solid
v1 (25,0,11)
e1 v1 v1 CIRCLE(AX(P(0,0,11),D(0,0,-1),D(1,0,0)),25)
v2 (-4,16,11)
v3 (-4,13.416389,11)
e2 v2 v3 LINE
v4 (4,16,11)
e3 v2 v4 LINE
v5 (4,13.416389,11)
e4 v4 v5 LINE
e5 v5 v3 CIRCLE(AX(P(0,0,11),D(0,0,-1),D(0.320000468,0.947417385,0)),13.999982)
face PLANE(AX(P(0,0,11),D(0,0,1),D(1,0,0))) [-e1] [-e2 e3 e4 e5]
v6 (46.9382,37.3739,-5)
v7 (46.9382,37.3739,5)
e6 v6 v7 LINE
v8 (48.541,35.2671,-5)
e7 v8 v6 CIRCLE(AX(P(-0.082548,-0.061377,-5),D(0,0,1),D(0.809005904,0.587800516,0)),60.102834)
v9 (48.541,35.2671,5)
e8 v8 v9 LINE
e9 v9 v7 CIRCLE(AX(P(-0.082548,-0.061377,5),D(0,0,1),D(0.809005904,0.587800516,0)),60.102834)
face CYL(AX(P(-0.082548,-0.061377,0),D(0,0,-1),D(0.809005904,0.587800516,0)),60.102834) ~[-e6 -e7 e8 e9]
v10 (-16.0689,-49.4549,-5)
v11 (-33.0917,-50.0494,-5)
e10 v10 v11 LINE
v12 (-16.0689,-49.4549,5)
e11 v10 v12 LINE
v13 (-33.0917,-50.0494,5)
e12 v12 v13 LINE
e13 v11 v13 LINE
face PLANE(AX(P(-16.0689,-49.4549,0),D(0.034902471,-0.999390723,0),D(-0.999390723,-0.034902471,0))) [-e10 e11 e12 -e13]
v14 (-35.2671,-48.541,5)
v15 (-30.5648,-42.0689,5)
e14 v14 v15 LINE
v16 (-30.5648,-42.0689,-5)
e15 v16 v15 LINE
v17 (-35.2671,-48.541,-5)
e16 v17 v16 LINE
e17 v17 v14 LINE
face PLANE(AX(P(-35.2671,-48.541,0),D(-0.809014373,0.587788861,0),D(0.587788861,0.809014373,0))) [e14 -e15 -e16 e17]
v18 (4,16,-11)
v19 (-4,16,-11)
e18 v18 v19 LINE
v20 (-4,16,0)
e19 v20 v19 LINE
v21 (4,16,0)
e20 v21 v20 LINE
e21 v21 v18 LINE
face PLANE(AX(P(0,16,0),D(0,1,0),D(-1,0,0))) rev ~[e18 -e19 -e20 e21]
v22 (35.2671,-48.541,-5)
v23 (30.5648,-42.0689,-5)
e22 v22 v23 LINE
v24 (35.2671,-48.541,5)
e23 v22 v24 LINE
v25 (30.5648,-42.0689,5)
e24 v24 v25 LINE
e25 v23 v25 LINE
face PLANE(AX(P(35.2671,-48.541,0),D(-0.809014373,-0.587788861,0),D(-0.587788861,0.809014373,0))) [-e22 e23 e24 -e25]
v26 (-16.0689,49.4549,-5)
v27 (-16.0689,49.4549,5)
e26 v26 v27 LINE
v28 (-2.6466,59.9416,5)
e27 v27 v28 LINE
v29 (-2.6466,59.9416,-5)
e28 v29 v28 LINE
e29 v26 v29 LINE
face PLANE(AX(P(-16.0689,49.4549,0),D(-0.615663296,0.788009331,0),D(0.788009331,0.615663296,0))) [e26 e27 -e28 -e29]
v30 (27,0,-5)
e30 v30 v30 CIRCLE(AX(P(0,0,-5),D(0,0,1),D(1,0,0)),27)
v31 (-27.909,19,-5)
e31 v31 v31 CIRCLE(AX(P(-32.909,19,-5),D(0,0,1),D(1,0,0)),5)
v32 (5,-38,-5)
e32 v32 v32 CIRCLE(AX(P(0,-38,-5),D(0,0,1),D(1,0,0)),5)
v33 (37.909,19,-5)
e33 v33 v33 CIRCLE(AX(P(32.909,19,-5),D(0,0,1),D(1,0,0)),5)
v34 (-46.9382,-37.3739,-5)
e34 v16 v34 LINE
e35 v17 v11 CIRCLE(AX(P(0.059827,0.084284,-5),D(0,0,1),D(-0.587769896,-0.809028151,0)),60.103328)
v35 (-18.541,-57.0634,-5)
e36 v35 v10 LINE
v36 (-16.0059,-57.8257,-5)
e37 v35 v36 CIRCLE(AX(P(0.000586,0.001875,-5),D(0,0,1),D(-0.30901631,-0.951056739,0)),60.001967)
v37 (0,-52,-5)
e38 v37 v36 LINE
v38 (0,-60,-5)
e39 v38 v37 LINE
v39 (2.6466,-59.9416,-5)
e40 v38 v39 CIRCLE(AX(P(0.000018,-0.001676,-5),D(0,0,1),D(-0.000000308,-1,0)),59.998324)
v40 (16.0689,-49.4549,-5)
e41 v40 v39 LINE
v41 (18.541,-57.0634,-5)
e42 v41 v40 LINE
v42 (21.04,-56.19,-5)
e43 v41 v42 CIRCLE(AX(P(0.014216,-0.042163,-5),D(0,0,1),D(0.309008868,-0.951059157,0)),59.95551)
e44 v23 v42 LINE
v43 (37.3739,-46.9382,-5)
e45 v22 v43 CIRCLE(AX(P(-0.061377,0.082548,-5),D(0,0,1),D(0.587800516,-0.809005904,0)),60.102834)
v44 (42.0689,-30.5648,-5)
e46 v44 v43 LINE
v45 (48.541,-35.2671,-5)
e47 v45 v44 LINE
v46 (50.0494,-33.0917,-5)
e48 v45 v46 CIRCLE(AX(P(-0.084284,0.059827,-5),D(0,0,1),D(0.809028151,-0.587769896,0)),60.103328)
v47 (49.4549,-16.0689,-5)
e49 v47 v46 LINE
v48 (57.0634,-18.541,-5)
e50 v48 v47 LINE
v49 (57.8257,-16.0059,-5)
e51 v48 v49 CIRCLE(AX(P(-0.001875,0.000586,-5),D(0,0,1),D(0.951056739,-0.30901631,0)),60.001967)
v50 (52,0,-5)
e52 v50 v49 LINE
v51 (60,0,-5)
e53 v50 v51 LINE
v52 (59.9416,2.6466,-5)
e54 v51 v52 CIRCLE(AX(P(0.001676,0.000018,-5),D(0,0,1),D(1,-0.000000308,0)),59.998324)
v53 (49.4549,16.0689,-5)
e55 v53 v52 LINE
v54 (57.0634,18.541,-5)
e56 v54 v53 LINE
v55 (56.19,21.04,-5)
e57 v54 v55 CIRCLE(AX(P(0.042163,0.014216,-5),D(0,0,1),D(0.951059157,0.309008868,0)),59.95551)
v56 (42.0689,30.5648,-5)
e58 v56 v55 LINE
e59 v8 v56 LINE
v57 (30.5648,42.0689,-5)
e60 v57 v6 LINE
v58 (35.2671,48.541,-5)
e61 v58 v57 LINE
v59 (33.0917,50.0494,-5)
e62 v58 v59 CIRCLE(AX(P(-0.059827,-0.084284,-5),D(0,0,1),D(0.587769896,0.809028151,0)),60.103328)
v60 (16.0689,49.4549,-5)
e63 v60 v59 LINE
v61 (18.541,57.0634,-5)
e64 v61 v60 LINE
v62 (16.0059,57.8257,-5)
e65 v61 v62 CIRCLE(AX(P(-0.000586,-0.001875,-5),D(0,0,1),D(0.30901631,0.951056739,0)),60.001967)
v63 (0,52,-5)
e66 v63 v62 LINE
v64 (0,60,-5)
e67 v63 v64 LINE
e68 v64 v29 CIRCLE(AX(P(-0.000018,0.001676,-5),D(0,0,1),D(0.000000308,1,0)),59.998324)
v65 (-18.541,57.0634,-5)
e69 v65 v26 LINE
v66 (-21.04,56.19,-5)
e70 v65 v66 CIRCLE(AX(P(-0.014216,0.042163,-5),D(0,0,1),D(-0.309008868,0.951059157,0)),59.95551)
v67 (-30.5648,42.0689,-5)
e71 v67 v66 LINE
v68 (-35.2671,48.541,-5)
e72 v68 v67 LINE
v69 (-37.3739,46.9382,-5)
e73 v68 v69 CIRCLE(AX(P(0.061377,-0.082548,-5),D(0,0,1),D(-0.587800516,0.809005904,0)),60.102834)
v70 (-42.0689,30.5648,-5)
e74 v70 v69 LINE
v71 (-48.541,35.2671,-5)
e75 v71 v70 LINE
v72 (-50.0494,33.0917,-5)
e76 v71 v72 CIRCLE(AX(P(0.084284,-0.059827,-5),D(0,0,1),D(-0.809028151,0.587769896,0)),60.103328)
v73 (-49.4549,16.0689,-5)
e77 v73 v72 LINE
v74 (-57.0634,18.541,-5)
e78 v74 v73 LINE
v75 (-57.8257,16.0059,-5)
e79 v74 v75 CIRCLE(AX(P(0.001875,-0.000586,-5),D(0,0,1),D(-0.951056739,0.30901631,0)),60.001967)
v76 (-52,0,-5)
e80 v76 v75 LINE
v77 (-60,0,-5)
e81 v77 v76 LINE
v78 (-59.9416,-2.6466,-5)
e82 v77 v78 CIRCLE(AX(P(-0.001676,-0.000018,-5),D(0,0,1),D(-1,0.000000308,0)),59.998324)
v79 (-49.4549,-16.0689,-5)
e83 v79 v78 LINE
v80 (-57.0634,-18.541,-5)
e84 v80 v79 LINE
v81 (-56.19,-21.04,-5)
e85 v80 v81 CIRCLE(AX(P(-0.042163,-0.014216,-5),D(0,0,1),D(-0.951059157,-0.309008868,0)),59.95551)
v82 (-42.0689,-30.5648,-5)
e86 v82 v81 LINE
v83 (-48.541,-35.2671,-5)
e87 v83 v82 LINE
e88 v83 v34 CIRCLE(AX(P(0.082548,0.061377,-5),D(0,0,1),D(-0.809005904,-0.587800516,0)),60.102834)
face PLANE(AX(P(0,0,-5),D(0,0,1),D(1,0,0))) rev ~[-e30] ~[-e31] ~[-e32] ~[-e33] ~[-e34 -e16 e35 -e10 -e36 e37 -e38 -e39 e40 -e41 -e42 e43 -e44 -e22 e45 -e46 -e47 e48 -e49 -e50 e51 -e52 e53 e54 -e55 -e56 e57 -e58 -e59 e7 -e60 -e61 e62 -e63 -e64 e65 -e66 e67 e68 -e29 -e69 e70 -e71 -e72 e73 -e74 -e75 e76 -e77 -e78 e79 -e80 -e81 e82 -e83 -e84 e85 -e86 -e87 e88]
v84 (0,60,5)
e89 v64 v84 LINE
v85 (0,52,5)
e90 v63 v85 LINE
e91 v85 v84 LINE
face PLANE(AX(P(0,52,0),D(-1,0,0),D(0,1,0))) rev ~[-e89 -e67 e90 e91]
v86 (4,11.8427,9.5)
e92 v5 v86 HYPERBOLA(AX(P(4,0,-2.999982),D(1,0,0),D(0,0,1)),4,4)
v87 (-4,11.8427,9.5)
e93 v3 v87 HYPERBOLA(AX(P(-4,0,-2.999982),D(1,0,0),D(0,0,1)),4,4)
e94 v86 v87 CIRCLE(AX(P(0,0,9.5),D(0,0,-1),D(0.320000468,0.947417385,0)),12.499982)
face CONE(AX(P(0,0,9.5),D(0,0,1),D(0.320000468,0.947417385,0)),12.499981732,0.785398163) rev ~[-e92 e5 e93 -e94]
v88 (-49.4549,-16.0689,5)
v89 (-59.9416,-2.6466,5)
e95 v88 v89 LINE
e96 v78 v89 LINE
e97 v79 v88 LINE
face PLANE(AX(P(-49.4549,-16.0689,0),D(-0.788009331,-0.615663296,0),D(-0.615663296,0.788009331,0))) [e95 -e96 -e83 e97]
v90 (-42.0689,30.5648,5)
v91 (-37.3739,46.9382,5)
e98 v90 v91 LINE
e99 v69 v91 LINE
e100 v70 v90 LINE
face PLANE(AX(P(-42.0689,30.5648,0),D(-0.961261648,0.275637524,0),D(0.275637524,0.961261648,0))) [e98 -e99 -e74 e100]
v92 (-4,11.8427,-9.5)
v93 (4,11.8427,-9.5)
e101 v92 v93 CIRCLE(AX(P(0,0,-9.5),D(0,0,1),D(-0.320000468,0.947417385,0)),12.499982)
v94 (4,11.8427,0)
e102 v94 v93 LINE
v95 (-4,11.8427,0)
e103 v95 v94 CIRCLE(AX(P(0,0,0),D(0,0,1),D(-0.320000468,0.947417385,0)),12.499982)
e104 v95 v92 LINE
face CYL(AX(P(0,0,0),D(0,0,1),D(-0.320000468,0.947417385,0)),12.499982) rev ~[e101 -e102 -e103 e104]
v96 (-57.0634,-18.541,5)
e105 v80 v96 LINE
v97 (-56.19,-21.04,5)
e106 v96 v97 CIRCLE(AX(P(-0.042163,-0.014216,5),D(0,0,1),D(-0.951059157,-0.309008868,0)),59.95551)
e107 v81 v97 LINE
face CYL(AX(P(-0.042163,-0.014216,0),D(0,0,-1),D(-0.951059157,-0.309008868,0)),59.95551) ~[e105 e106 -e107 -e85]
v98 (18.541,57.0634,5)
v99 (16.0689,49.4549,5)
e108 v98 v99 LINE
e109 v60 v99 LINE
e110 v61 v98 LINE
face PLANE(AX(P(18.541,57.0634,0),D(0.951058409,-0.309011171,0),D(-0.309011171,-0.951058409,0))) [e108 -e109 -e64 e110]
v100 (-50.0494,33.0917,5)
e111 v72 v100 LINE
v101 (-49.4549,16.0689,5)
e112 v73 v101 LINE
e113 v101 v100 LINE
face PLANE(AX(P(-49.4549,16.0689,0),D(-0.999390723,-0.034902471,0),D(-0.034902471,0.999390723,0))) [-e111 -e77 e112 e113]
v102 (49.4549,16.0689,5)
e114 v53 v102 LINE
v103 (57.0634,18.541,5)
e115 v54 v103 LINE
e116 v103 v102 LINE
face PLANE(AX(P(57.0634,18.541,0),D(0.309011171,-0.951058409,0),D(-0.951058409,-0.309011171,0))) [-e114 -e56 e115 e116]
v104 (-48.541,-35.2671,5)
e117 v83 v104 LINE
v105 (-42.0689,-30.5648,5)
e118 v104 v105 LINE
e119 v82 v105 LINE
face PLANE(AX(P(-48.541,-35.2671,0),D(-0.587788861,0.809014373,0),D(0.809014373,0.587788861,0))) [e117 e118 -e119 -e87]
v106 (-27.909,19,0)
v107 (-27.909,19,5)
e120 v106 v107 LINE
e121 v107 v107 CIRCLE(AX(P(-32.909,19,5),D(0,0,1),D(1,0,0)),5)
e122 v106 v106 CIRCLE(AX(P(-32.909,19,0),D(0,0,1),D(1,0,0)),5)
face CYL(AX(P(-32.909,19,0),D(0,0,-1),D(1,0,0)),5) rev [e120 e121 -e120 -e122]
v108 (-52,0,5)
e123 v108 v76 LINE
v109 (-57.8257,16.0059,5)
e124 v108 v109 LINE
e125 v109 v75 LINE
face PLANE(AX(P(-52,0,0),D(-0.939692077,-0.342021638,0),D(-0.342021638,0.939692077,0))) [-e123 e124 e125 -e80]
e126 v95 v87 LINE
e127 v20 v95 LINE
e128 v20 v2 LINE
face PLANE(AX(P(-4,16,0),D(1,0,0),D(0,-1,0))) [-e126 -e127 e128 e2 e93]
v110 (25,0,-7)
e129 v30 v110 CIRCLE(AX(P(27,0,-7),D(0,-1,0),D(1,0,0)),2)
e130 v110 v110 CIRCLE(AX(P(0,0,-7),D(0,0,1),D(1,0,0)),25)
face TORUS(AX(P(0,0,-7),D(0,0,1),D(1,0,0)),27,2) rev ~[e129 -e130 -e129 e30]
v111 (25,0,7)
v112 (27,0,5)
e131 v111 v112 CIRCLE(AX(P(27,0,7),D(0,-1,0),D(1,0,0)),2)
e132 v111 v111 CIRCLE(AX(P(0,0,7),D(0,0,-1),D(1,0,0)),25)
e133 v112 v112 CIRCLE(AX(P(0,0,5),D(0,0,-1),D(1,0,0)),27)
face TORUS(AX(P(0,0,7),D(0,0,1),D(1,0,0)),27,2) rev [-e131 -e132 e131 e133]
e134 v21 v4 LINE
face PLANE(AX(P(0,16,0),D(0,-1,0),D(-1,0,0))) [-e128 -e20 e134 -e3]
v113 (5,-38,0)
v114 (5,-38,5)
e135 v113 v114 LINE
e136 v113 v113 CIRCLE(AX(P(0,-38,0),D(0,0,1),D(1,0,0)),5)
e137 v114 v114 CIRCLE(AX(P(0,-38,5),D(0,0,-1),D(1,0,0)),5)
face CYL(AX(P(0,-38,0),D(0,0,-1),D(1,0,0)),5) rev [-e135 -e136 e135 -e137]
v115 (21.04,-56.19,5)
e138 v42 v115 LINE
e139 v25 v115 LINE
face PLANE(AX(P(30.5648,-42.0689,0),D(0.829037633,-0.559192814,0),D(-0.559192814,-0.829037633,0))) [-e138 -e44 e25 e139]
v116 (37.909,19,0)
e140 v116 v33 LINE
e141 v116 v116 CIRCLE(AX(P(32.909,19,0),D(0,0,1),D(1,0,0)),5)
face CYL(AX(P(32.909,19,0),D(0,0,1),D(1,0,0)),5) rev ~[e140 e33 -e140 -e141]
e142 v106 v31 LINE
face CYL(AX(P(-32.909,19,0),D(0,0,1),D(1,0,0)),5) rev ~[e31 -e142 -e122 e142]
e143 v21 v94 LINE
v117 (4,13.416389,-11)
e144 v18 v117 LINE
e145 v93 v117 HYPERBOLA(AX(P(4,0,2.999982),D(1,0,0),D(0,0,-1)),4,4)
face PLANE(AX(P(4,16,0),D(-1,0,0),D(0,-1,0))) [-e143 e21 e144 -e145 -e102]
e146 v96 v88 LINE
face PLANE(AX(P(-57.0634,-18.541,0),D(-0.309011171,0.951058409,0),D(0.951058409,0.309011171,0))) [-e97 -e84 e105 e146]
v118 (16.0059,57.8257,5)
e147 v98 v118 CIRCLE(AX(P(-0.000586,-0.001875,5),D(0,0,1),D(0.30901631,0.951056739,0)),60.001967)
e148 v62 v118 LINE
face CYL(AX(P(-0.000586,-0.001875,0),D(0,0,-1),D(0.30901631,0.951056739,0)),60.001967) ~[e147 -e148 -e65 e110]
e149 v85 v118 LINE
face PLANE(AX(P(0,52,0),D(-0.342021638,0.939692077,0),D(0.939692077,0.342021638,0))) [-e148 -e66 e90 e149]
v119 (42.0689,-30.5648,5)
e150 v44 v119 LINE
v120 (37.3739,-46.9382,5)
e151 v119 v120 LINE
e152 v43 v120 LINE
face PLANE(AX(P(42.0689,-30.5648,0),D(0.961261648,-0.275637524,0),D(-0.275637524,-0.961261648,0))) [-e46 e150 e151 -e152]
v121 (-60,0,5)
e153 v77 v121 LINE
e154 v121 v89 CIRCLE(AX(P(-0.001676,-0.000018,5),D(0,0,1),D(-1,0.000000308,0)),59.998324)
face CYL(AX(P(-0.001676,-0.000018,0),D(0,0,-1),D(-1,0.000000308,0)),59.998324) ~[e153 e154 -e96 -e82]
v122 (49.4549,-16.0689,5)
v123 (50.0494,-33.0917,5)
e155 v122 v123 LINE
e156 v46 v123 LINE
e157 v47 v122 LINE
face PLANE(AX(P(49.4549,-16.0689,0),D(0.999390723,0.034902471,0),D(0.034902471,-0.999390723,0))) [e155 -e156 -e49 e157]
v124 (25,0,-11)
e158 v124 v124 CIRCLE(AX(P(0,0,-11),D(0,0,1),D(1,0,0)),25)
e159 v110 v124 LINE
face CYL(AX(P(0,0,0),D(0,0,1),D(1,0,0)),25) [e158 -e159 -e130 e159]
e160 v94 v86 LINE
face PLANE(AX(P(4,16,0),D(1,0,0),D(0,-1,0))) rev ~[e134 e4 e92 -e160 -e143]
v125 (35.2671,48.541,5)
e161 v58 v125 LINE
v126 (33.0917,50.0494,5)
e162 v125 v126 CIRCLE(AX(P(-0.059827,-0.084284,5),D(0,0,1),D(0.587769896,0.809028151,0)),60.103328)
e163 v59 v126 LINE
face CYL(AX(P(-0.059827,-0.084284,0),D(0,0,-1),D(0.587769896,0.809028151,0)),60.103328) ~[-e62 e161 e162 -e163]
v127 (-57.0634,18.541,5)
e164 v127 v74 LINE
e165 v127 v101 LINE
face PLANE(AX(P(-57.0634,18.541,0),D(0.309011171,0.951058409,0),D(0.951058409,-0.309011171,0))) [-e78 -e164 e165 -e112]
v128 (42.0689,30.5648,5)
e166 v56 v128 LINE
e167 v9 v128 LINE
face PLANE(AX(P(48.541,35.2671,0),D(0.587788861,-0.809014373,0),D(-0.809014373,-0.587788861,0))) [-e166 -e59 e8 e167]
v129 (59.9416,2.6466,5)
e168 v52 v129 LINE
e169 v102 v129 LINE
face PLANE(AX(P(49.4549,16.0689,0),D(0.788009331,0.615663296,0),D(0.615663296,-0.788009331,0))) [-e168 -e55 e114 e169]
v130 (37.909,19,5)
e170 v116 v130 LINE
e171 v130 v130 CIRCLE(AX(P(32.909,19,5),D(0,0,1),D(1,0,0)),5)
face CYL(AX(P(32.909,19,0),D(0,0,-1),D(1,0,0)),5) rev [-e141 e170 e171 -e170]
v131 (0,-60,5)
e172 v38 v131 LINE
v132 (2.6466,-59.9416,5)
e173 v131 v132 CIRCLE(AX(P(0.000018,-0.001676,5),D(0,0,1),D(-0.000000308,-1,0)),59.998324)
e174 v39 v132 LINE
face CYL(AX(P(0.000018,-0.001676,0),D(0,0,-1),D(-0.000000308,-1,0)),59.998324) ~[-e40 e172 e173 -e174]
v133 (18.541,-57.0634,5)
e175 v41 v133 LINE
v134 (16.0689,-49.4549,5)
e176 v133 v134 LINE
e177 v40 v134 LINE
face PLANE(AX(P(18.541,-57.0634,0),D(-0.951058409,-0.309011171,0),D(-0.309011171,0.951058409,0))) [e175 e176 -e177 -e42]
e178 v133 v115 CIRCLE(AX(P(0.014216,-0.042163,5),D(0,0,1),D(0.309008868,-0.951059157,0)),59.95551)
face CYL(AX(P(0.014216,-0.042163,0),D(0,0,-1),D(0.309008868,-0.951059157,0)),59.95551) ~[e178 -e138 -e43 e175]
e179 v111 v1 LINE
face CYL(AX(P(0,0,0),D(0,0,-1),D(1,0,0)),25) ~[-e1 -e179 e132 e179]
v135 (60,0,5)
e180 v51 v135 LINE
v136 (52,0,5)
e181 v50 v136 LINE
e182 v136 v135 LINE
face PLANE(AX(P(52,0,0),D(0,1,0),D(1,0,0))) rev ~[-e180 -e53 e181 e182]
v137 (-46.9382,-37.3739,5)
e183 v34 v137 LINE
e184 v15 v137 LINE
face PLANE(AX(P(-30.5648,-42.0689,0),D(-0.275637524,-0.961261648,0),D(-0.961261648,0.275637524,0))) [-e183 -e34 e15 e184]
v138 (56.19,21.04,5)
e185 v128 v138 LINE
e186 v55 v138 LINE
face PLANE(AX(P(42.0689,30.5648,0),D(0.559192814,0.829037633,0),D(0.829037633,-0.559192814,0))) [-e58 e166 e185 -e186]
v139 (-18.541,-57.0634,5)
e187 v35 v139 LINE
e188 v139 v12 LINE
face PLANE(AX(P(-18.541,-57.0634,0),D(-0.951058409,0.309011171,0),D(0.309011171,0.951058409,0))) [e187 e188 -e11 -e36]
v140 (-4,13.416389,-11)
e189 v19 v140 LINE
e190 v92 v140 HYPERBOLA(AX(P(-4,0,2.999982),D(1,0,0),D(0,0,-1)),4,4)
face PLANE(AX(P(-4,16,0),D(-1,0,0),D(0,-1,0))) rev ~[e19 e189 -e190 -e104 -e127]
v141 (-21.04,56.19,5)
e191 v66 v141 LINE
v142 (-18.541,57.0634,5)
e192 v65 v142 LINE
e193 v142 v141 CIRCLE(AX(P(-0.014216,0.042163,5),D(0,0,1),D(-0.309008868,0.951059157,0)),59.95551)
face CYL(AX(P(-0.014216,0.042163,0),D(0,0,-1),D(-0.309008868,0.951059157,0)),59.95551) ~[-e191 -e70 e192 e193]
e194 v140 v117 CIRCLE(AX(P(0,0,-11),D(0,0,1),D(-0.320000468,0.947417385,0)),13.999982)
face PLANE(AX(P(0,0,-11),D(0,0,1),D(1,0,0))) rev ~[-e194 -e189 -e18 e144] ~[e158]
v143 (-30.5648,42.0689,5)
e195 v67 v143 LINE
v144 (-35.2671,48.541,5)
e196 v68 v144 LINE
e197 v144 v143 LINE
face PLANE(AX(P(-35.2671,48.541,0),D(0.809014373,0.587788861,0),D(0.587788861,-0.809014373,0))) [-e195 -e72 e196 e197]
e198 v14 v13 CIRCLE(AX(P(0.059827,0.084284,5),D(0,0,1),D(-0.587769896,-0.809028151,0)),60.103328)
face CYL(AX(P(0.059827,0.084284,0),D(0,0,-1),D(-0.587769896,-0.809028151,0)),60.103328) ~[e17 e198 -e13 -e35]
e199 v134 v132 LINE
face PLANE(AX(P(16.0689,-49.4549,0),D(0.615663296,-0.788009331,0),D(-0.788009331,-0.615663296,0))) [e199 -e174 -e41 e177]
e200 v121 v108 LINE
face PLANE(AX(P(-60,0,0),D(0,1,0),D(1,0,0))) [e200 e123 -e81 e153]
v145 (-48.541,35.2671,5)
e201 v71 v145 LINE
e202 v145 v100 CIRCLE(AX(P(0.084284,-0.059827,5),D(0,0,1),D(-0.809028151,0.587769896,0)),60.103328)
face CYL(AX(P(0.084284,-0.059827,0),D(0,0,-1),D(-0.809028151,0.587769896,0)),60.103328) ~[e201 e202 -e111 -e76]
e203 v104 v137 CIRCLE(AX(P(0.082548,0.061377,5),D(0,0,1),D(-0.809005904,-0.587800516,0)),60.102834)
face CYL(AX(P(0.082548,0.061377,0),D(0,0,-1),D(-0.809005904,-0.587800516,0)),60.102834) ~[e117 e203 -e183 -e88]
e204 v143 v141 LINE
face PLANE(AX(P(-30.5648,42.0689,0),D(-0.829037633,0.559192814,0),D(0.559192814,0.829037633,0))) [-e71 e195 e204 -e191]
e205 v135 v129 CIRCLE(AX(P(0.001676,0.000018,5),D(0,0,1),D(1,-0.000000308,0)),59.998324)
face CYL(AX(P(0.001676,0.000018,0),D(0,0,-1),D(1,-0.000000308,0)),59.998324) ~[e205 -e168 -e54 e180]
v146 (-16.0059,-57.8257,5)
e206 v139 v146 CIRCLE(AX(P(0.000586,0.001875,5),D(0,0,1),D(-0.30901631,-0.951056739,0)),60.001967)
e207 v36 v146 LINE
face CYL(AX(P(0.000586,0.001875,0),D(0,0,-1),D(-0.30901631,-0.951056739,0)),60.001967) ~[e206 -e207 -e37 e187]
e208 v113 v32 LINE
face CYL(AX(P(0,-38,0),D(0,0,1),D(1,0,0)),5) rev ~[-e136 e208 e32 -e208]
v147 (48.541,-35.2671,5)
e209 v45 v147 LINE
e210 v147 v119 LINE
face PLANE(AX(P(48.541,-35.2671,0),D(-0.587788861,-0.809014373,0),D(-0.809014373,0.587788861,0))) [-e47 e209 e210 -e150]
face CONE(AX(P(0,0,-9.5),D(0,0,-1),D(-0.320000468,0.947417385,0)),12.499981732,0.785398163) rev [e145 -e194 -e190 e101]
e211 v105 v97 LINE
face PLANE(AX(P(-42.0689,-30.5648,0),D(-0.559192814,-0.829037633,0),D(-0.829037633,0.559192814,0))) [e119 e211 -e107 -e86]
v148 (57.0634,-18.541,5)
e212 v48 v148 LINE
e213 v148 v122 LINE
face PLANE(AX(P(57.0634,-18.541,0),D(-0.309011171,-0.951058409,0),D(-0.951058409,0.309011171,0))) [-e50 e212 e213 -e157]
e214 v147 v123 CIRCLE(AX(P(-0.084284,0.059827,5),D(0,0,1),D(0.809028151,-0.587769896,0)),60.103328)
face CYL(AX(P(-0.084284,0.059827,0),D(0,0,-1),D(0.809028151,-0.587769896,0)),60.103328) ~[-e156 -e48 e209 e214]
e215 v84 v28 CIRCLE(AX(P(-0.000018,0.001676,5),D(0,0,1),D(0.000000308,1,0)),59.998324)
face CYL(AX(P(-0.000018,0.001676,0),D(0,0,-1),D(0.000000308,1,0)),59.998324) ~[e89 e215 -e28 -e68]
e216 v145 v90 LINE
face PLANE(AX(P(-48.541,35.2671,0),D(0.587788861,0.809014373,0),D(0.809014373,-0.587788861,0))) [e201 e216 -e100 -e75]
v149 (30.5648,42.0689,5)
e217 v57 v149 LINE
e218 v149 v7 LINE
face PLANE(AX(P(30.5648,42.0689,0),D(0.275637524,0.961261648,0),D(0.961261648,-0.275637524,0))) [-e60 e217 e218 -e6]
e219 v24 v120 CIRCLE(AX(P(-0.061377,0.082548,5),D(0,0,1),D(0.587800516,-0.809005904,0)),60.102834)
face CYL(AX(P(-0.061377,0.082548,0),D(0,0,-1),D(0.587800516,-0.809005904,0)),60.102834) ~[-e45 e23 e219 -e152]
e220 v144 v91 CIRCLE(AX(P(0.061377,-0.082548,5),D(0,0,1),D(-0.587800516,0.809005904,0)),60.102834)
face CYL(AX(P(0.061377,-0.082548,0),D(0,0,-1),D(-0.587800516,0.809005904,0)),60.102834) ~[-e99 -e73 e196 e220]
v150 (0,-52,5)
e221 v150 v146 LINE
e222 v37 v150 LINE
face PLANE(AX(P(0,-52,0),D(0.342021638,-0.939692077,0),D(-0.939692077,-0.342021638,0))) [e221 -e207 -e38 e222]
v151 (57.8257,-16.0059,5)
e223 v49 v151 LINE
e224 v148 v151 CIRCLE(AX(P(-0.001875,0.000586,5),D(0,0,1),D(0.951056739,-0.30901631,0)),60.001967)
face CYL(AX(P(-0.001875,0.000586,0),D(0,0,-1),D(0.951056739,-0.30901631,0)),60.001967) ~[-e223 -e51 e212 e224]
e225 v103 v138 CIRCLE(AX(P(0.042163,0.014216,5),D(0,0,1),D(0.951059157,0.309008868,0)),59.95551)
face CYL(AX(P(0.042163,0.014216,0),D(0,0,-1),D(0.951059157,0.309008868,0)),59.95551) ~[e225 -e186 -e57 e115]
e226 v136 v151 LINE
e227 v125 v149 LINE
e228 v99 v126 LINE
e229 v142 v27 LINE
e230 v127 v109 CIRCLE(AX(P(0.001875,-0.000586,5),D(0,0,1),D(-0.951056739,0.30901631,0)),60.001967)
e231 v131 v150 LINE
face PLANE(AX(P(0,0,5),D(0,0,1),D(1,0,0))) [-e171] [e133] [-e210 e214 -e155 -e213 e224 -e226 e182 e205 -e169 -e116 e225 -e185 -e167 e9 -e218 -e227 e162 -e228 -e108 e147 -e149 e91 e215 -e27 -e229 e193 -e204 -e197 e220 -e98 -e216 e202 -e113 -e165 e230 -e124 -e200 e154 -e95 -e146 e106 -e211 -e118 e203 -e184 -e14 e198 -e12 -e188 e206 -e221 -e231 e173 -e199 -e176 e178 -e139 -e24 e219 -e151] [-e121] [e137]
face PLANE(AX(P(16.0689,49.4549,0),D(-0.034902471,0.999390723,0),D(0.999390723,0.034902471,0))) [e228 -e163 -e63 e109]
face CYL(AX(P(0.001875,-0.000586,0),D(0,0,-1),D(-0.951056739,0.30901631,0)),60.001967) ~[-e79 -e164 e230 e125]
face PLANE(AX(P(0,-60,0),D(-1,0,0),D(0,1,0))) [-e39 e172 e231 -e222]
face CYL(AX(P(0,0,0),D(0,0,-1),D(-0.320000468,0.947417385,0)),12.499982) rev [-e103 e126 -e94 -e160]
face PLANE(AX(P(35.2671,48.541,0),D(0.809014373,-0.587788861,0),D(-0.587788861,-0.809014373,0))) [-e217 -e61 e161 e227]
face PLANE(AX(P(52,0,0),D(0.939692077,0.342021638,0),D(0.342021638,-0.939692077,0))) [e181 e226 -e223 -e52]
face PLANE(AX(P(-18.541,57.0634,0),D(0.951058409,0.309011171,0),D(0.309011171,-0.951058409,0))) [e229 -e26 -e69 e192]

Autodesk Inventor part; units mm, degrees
ref_plane "YZ Plane" through (0, 0, 0) normal (1, 0, 0) x (0, 1, 0)
ref_plane "XZ Plane" through (0, 0, 0) normal (0, 1, 0) x (-1, 0, 0)
ref_plane "XY Plane" through (0, 0, 0) normal (0, 0, 1) x (1, 0, 0)
sketch "Sketch1" plane through (0, 0, 0) normal (0, 0, 1) x (1, 0, 0)
  line L0 (-84.0204, 0) -> (84.0204, 0) projected
  line L1 (0, -84.0204) -> (0, 84.0204) projected
  arc A0 (-4, 11.8427) -> (4, 11.8427) centre (0, 0) ccw
  line L2 (0, 16) -> (4, 16)
  line L3 (4, 16) -> (4, 11.8427)
  line L4 (0, 16) -> (-4, 16)
  line L5 (-4, 16) -> (-4, 11.8427)
  circle A1 centre (0, 0) radius 25
  circle A2 centre (0, 0) radius 38 construction
  arc A3 (18.541, 57.0634) -> (16.0059, 57.8257) centre (0, 0) ccw
  circle A4 centre (32.909, 19) radius 5
  line L6 (32.909, 19) -> (0, 0) construction
  circle A5 centre (-32.909, 19) radius 5
  circle A6 centre (0, -38) radius 5
  line L7 (0, 60) -> (0, 52)
  line L8 (0, 52) -> (16.0059, 57.8257)
  line L9 (18.541, 57.0634) -> (16.0689, 49.4549)
  line L10 (-16.0689, 49.4549) -> (-2.6466, 59.9416)
  arc A7 (0, 60) -> (-2.6466, 59.9416) centre (0, 0) ccw
  line L11 (0, 60) -> (0, 52)
  line L12 (-30.5648, 42.0689) -> (-21.04, 56.19)
  arc A8 (-18.541, 57.0634) -> (-21.04, 56.19) centre (0, 0) ccw
  line L13 (-18.541, 57.0634) -> (-16.0689, 49.4549)
  line L14 (-42.0689, 30.5648) -> (-37.3739, 46.9382)
  arc A9 (-35.2671, 48.541) -> (-37.3739, 46.9382) centre (0, 0) ccw
  line L15 (-35.2671, 48.541) -> (-30.5648, 42.0689)
  line L16 (-49.4549, 16.0689) -> (-50.0494, 33.0917)
  arc A10 (-48.541, 35.2671) -> (-50.0494, 33.0917) centre (0, 0) ccw
  line L17 (-48.541, 35.2671) -> (-42.0689, 30.5648)
  line L18 (-52, 0) -> (-57.8257, 16.0059)
  arc A11 (-57.0634, 18.541) -> (-57.8257, 16.0059) centre (0, 0) ccw
  line L19 (-57.0634, 18.541) -> (-49.4549, 16.0689)
  line L20 (-49.4549, -16.0689) -> (-59.9416, -2.6466)
  arc A12 (-60, 0) -> (-59.9416, -2.6466) centre (0, 0) ccw
  line L21 (-60, 0) -> (-52, 0)
  line L22 (-42.0689, -30.5648) -> (-56.19, -21.04)
  arc A13 (-57.0634, -18.541) -> (-56.19, -21.04) centre (0, 0) ccw
  line L23 (-57.0634, -18.541) -> (-49.4549, -16.0689)
  line L24 (-30.5648, -42.0689) -> (-46.9382, -37.3739)
  arc A14 (-48.541, -35.2671) -> (-46.9382, -37.3739) centre (0, 0) ccw
  line L25 (-48.541, -35.2671) -> (-42.0689, -30.5648)
  line L26 (-16.0689, -49.4549) -> (-33.0917, -50.0494)
  arc A15 (-35.2671, -48.541) -> (-33.0917, -50.0494) centre (0, 0) ccw
  line L27 (-35.2671, -48.541) -> (-30.5648, -42.0689)
  line L28 (0, -52) -> (-16.0059, -57.8257)
  arc A16 (-18.541, -57.0634) -> (-16.0059, -57.8257) centre (0, 0) ccw
  line L29 (-18.541, -57.0634) -> (-16.0689, -49.4549)
  line L30 (16.0689, -49.4549) -> (2.6466, -59.9416)
  arc A17 (0, -60) -> (2.6466, -59.9416) centre (0, 0) ccw
  line L31 (0, -60) -> (0, -52)
  line L32 (30.5648, -42.0689) -> (21.04, -56.19)
  arc A18 (18.541, -57.0634) -> (21.04, -56.19) centre (0, 0) ccw
  line L33 (18.541, -57.0634) -> (16.0689, -49.4549)
  line L34 (42.0689, -30.5648) -> (37.3739, -46.9382)
  arc A19 (35.2671, -48.541) -> (37.3739, -46.9382) centre (0, 0) ccw
  line L35 (35.2671, -48.541) -> (30.5648, -42.0689)
  line L36 (49.4549, -16.0689) -> (50.0494, -33.0917)
  arc A20 (48.541, -35.2671) -> (50.0494, -33.0917) centre (0, 0) ccw
  line L37 (48.541, -35.2671) -> (42.0689, -30.5648)
  line L38 (52, 0) -> (57.8257, -16.0059)
  arc A21 (57.0634, -18.541) -> (57.8257, -16.0059) centre (0, 0) ccw
  line L39 (57.0634, -18.541) -> (49.4549, -16.0689)
  line L40 (49.4549, 16.0689) -> (59.9416, 2.6466)
  arc A22 (60, 0) -> (59.9416, 2.6466) centre (0, 0) ccw
  line L41 (60, 0) -> (52, 0)
  line L42 (42.0689, 30.5648) -> (56.19, 21.04)
  arc A23 (57.0634, 18.541) -> (56.19, 21.04) centre (0, 0) ccw
  line L43 (57.0634, 18.541) -> (49.4549, 16.0689)
  line L44 (30.5648, 42.0689) -> (46.9382, 37.3739)
  arc A24 (48.541, 35.2671) -> (46.9382, 37.3739) centre (0, 0) ccw
  line L45 (48.541, 35.2671) -> (42.0689, 30.5648)
  line L46 (16.0689, 49.4549) -> (33.0917, 50.0494)
  arc A25 (35.2671, 48.541) -> (33.0917, 50.0494) centre (0, 0) ccw
  line L47 (35.2671, 48.541) -> (30.5648, 42.0689)
  point P0 (0, -12.5)
  point P1 (-2, 16)
  point P2 (17.305, 53.2592)
  point P3 (0, 56)
  point P4 (-17.305, 53.2592)
  point P5 (-32.916, 45.305)
  point P6 (-45.305, 32.916)
  point P7 (-53.2592, 17.305)
  point P8 (-56, 0)
  point P9 (-53.2592, -17.305)
  point P10 (-45.305, -32.916)
  point P11 (-32.916, -45.305)
  point P12 (-17.305, -53.2592)
  point P13 (0, -56)
  point P14 (17.305, -53.2592)
  point P15 (32.916, -45.305)
  point P16 (45.305, -32.916)
  point P17 (53.2592, -17.305)
  point P18 (56, 0)
  point P19 (53.2592, 17.305)
  point P20 (45.305, 32.916)
  point P21 (32.916, 45.305)
  point P22 (-60, 0)
  point P23 (0, -60)
  point P24 (60, 0)
  dimension "d4" = 76
  dimension "d0" = 25
  dimension "d1" = 8
  dimension "d2" = 28.5
  dimension "d3" = 50
  dimension "d5" = 120
  dimension "d6" = 10
  dimension "d7" = 60
  dimension "d10" = 360
  dimension "d12" = 8
  dimension "d13" = 70
  dimension "d14" = 8
  dimension "d15" = 18
  dimension "d19" = 360
  dimension "d21" = 17.0332
extrude "Extrusion1" add sketch "Sketch1" along normal mid plane 22 contours A1 L1 L4 L5 A0 L0 | L0 A0 L1 A1 | A1 L0 A0 L3 L2 L1 | L1 A0 L0 A1
extrude "Extrusion2" add sketch "Sketch1" along normal mid plane 10 contours L0 A1 L1 A6 L28 A16 L29 L26 A15 L27 L24 A14 L25 L22 A13 L23 L20 A12 | L18 A11 L19 L16 A10 L17 L14 A9 L15 L12 A8 L13 L10 A7 L1 A1 L0 | L1 L8 A3 L9 L46 A25 L47 L44 A24 L45 L42 A23 L43 L40 A22 L0 A1 | A1 L0 L38 A21 L39 L36 A20 L37 L34 A19 L35 L32 A18 L33 L30 A17 L1 A6
fillet "Fillet1" radius 2 2 edges at (-25, 0, 5) (-25, 0, -5)
chamfer "Chamfer1" distance 1.5 angle 45 2 edges at (0, -12.5, 11) (0, -12.5, -11) measured on face at (-4.9522, 11.4772, 3.6667)
properties part number "Piesa 35"
